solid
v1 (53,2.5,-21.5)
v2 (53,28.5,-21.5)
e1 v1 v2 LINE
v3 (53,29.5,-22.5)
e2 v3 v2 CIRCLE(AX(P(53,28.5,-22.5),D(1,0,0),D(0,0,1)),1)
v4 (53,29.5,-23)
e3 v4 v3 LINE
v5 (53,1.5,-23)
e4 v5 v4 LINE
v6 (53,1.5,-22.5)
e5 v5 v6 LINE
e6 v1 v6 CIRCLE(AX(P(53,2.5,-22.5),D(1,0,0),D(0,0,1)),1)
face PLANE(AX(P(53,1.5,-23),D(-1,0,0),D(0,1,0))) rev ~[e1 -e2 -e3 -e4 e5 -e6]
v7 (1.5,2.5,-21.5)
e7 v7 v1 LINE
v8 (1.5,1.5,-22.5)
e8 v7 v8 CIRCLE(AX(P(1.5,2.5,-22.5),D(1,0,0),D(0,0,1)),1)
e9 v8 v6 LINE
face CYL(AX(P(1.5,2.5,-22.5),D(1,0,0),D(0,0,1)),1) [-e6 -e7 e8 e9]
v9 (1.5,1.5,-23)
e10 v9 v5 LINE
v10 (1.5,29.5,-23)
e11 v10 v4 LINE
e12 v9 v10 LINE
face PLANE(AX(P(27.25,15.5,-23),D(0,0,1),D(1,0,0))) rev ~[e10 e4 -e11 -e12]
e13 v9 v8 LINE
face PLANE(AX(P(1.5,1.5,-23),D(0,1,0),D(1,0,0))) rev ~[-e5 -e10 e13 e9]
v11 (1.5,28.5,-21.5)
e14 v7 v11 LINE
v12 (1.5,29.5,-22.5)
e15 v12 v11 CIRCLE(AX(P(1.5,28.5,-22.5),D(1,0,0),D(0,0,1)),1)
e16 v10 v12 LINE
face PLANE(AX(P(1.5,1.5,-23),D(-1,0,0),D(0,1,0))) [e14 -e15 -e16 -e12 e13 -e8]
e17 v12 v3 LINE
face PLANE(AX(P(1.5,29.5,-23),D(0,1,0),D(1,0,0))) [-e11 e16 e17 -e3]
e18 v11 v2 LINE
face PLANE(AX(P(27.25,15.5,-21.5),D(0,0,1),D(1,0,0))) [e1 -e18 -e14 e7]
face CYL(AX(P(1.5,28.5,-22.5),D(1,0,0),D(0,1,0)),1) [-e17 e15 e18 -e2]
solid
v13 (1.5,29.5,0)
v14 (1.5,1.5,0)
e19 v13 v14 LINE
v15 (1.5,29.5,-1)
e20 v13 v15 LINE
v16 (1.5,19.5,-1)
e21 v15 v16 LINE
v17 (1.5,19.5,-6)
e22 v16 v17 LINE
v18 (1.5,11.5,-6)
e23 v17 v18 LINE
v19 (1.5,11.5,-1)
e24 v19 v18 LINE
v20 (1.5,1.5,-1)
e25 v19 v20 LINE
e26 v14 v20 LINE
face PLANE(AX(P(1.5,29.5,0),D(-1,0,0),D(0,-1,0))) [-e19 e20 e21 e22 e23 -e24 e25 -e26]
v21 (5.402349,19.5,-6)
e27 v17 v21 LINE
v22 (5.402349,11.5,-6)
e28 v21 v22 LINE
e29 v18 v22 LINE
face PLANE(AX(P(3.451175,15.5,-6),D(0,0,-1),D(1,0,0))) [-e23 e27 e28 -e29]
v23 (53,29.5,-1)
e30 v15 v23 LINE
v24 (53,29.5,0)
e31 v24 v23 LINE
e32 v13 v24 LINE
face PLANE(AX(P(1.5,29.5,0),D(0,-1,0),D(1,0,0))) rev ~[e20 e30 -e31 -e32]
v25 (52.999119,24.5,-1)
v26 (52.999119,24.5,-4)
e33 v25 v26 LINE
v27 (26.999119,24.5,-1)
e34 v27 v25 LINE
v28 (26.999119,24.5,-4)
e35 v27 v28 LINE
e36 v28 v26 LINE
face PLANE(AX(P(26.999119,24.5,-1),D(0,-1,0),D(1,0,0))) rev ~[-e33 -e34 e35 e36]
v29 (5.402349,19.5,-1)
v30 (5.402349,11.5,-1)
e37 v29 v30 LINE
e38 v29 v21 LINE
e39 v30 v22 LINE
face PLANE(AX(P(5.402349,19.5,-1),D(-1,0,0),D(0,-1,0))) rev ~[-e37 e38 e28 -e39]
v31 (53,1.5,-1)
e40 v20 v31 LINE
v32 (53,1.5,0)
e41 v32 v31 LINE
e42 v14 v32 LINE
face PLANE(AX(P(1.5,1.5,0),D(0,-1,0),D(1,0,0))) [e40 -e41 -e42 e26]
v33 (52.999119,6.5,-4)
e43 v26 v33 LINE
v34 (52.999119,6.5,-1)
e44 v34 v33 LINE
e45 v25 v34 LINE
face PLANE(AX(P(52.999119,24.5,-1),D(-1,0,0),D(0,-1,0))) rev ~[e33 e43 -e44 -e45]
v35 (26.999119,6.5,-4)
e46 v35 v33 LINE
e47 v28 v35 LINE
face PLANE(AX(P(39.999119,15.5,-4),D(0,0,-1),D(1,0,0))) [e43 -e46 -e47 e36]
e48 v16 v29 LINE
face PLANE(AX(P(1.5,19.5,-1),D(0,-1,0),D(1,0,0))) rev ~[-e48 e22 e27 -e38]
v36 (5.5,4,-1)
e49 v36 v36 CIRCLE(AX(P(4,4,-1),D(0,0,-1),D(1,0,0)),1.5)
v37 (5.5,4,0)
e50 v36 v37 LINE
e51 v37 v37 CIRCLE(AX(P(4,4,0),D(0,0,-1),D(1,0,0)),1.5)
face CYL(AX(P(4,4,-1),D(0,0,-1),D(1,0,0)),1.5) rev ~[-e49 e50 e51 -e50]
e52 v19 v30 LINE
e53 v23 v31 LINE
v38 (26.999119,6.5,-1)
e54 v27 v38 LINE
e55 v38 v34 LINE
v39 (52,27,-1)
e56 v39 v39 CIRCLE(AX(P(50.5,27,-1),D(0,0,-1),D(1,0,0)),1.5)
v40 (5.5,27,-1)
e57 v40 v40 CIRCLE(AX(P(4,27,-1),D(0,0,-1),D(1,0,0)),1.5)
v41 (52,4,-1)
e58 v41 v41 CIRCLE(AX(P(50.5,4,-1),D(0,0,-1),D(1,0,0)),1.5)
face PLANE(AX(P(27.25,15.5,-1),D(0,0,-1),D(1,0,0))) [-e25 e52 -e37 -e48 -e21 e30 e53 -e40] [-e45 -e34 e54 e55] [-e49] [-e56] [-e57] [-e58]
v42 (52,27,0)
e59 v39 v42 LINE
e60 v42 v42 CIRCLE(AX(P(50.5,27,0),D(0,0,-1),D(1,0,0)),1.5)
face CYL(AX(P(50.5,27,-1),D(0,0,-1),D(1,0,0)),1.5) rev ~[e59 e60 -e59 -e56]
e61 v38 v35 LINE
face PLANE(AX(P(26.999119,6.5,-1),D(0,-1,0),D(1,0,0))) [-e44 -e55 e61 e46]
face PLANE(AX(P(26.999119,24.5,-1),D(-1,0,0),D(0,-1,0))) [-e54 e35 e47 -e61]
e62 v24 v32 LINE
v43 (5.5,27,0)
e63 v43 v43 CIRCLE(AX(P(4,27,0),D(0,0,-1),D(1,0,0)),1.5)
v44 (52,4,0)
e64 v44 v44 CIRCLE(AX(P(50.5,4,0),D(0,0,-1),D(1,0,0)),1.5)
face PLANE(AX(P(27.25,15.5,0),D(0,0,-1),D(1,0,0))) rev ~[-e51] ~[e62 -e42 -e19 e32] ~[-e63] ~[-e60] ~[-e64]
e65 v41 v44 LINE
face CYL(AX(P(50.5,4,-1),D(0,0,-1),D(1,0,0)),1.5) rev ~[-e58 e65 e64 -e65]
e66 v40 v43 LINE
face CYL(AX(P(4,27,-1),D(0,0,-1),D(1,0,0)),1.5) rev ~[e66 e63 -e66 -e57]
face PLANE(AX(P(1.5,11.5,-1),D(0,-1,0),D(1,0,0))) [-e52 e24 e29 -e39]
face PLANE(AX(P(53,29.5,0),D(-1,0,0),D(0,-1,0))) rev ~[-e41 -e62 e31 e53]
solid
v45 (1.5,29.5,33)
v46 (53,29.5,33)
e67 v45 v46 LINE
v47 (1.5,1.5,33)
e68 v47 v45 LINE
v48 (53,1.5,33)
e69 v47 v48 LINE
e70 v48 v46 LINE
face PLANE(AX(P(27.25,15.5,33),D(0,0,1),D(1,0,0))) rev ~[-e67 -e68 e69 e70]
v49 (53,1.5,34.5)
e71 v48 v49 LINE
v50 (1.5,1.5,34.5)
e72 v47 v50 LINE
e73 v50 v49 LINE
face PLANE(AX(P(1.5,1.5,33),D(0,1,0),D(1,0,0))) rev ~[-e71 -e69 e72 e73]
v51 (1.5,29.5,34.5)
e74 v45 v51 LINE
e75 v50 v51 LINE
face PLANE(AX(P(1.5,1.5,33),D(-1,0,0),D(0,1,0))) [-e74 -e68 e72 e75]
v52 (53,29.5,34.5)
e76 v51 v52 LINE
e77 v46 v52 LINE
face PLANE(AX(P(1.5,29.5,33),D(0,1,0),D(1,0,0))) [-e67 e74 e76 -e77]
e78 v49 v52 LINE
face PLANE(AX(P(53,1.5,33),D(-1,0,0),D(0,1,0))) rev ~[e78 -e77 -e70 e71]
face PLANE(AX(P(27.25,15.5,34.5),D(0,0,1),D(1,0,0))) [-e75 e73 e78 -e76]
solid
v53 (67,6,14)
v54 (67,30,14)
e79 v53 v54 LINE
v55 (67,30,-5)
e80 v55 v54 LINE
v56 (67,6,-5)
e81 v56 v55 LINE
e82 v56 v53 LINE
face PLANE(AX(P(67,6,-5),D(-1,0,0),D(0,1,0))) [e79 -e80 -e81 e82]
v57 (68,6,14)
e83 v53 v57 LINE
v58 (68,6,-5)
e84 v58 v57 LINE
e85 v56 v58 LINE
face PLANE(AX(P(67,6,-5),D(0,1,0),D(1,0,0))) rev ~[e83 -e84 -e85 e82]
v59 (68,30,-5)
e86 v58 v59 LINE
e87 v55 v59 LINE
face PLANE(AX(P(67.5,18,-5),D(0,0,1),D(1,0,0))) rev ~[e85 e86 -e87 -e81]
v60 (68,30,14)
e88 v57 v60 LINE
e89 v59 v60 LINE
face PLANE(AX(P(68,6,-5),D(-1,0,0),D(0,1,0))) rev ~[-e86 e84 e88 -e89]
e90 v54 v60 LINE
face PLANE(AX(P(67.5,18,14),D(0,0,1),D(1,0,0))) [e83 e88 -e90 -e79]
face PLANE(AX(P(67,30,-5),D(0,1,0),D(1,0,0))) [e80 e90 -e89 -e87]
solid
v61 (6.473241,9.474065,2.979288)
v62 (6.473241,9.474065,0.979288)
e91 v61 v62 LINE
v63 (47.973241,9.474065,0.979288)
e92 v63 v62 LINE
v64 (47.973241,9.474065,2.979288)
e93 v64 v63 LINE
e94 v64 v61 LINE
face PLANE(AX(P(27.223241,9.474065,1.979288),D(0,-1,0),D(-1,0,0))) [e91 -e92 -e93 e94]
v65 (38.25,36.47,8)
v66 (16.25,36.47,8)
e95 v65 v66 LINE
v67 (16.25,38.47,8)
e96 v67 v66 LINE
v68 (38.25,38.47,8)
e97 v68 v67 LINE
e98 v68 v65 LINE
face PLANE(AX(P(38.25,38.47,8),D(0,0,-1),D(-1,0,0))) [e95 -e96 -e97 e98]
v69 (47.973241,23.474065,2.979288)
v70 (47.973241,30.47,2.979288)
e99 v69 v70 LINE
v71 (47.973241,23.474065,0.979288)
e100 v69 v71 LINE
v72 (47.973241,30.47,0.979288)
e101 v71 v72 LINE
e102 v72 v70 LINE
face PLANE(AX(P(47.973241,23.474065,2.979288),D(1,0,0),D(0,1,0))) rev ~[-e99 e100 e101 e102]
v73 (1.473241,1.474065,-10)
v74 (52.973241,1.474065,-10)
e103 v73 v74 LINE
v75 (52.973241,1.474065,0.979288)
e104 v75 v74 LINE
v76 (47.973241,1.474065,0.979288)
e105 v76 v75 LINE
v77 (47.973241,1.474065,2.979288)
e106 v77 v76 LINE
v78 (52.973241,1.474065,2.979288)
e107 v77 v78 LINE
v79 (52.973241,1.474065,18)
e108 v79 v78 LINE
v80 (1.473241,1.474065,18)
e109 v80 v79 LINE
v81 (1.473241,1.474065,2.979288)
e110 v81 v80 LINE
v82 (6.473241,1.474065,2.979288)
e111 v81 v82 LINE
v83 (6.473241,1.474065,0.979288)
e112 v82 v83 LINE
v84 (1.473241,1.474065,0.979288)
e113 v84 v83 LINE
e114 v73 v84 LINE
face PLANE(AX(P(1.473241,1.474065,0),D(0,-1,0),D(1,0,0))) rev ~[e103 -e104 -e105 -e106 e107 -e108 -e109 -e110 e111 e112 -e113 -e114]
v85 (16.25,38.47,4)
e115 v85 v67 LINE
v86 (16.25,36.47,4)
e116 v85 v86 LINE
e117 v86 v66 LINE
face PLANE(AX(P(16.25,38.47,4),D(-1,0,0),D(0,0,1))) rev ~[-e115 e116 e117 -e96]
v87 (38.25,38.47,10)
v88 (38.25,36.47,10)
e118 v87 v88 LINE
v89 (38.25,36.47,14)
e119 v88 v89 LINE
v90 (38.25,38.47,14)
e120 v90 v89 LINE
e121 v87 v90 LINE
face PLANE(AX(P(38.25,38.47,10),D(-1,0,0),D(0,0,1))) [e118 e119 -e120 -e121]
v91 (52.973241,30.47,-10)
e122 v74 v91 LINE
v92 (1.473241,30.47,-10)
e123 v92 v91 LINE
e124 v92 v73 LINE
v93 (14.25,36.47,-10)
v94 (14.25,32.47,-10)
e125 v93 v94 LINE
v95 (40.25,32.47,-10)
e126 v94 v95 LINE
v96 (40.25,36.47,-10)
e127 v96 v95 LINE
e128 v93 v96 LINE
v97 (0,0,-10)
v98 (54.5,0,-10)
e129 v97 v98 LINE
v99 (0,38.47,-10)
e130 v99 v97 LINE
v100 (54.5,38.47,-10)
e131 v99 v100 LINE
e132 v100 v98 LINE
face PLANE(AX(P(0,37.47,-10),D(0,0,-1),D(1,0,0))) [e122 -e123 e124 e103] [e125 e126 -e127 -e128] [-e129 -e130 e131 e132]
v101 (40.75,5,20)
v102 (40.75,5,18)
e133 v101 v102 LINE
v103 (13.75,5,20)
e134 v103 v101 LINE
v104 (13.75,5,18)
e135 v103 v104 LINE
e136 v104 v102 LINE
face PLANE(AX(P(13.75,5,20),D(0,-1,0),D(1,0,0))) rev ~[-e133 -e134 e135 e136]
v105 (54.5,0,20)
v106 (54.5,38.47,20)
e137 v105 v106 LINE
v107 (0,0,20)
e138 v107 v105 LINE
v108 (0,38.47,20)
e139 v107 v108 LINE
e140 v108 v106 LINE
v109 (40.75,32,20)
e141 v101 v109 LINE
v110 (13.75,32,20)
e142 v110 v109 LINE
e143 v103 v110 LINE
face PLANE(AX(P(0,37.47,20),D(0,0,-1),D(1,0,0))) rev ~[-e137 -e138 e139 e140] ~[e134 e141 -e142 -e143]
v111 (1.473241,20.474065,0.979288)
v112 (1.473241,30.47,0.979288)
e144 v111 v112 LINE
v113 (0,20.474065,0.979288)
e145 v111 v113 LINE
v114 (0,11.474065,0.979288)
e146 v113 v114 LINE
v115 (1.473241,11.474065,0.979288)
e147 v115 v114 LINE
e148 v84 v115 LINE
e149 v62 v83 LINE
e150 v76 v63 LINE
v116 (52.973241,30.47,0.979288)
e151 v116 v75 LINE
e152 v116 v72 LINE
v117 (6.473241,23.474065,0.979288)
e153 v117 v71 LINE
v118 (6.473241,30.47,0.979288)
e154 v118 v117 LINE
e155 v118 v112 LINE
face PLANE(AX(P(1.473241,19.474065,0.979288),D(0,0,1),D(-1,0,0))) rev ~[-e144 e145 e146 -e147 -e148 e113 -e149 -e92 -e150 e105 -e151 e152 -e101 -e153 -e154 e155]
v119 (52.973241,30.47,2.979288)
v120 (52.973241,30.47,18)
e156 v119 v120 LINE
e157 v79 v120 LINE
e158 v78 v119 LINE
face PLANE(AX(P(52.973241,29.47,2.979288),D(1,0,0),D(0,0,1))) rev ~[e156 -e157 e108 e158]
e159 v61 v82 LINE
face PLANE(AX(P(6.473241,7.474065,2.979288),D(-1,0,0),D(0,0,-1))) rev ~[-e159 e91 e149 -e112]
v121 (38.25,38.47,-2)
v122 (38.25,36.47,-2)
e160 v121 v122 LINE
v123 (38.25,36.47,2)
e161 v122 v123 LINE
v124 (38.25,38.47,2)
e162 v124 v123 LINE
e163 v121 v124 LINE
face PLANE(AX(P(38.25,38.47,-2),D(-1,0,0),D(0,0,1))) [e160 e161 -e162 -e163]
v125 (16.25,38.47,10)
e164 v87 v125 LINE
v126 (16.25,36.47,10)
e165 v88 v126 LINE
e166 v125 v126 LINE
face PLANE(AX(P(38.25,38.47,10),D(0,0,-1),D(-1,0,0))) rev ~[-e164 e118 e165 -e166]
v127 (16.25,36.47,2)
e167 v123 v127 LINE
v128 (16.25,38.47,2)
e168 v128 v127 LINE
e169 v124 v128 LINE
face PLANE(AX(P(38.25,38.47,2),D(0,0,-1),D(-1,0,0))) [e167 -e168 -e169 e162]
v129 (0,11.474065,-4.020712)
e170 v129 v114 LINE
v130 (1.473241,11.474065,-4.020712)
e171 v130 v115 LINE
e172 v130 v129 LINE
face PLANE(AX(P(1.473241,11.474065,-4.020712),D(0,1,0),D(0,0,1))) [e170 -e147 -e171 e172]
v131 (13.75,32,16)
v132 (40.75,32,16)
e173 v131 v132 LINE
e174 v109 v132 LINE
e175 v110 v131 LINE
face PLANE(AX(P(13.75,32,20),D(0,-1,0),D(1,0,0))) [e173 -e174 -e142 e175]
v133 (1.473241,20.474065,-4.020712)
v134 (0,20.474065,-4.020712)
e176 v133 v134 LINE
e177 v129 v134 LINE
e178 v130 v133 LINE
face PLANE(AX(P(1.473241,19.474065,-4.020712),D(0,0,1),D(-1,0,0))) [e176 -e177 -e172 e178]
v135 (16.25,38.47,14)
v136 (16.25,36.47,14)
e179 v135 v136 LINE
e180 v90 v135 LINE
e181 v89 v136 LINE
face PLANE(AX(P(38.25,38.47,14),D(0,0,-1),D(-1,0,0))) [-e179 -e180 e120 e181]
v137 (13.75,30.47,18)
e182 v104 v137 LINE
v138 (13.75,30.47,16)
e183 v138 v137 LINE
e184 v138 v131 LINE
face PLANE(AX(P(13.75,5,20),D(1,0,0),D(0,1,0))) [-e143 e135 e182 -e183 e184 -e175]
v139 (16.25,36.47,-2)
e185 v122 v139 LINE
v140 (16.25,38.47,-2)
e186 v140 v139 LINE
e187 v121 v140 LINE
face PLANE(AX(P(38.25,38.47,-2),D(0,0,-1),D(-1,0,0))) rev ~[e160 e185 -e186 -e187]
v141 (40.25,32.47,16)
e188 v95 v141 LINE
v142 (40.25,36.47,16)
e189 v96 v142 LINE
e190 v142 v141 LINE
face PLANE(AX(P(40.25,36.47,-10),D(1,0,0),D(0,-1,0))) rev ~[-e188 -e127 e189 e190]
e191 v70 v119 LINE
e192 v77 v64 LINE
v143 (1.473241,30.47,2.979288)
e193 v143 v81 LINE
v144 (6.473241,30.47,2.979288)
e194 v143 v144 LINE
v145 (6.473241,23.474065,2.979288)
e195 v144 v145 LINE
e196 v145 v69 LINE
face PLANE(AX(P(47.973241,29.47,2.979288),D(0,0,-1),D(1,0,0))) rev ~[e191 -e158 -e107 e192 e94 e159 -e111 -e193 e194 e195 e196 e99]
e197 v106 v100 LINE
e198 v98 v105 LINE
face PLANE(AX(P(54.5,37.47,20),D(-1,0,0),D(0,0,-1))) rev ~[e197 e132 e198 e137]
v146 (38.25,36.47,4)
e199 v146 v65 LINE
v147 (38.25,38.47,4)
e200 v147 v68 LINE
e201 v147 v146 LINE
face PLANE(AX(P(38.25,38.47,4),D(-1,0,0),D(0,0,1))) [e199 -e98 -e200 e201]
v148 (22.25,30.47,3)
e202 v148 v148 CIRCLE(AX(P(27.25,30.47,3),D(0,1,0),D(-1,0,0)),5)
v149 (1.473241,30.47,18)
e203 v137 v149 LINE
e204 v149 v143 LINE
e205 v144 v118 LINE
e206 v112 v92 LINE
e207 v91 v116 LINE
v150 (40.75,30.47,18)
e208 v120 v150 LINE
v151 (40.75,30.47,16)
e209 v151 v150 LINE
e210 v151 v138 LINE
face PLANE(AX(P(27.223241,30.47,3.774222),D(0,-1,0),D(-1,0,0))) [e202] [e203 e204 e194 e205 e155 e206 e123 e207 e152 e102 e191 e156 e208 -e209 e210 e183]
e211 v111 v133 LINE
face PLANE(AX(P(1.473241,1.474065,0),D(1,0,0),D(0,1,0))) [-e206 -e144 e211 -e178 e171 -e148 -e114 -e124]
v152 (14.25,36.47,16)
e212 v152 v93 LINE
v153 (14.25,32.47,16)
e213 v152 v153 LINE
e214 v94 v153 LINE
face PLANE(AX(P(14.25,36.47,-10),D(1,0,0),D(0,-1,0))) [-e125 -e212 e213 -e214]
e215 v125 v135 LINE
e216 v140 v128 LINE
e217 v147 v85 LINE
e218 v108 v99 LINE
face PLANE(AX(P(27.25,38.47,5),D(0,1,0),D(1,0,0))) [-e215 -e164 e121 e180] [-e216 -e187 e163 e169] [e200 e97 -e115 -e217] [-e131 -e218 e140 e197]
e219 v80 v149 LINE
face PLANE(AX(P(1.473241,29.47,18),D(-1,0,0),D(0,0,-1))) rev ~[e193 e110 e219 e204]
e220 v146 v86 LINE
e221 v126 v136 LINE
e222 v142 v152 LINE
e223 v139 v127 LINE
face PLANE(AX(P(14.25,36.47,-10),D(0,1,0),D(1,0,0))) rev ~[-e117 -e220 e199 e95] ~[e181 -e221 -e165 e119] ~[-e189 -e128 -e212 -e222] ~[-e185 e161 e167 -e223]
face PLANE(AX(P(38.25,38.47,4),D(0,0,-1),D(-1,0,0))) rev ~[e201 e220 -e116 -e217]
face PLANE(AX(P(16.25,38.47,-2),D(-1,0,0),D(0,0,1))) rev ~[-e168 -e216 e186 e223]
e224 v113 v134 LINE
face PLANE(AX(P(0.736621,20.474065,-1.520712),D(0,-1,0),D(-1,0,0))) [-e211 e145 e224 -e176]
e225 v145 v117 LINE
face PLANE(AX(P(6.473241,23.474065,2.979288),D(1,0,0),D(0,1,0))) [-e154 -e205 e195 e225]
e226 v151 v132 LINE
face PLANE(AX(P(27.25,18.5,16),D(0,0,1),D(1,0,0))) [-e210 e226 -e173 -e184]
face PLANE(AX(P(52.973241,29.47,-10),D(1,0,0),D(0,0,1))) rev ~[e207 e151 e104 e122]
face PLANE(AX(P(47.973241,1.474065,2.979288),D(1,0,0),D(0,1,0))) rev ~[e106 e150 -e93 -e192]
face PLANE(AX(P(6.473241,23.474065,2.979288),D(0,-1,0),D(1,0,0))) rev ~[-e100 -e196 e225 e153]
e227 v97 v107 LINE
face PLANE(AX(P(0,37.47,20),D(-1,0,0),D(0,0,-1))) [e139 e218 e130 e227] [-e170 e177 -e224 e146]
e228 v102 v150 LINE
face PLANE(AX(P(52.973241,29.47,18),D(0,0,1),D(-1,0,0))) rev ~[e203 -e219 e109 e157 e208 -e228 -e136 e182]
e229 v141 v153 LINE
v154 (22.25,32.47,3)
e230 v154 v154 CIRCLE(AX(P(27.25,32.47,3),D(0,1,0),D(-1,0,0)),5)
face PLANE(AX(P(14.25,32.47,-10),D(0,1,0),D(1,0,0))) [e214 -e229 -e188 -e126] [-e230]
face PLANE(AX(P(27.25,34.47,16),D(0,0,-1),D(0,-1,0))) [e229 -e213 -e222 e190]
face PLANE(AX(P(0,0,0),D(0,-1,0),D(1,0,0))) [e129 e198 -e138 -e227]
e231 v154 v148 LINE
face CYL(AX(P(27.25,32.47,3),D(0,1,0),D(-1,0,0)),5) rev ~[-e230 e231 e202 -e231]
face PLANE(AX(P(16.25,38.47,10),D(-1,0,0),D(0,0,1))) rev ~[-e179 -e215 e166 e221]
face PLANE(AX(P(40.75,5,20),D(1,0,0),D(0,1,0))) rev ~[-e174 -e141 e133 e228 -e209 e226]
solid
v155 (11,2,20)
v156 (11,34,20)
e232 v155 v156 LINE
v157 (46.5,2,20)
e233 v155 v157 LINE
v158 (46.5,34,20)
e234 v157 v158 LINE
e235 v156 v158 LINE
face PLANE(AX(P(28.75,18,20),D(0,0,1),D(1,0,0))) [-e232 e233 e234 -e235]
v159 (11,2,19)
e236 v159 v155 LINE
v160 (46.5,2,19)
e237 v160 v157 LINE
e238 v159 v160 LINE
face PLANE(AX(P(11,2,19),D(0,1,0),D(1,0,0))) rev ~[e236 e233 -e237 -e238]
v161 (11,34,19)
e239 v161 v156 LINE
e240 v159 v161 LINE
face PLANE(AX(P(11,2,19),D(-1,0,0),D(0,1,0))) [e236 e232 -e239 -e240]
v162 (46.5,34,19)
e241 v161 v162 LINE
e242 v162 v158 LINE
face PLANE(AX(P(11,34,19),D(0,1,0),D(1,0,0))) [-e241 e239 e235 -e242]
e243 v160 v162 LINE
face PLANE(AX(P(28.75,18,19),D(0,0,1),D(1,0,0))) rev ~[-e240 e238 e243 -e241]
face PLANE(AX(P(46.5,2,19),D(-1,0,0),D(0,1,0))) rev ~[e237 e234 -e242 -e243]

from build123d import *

# Parameters (mm, degrees)
SKETCH_W             = 51.5
SKETCH_H             = 28
PAD_DEPTH            = 1
SKETCH001_R          = 1.5
POCKET_DEPTH         = 5
SKETCH002_W          = 26
SKETCH002_H          = 18
PAD001_DEPTH         = 3
SKETCH006_W          = 3.902349
SKETCH006_H          = 8
PAD004_DEPTH         = 5
BODY_PLACEMENT_ANGLE = 180
SKETCH003_W          = 54.5
SKETCH003_H          = 31
SKETCH003_W_2        = 51.5
SKETCH003_H_2        = 28
PAD002_DEPTH         = 20
PAD002_DEPTH_BACK    = 10
SKETCH004_W          = 28
SKETCH004_H          = 2
PAD003_DEPTH         = 53.026759
SKETCH005_W          = 41.5
SKETCH005_H          = 6
POCKET001_DEPTH      = 5
SKETCH009_W          = 5
SKETCH009_H          = 8
POCKET002_DEPTH      = 5
POCKET002_FACE6_W    = 54.5
POCKET002_FACE6_H    = 30
PAD005_DEPTH         = 6
SKETCH010_W          = 35.630659
SKETCH010_H          = 4.577942
POCKET003_DEPTH      = 5
POCKET003_FACE17_W   = 35.630659
POCKET003_FACE17_H   = 5
POCKET004_DEPTH      = 5
SKETCH011_W          = 26.5
SKETCH011_H          = 5.025935
POCKET005_DEPTH      = 24
SKETCH012_R          = 5
POCKET006_DEPTH      = 5
SKETCH013_W          = 4
SKETCH013_H          = 16
POCKET007_DEPTH      = 5
SKETCH015_W          = 9.49
SKETCH015_H          = 2
SKETCH015_W_2        = 6.383382
PAD006_DEPTH         = 28
SKETCH016_W          = 7.53
SKETCH016_H          = 30
PAD007_DEPTH         = 54.5
PAD007_FACE3_W       = 27.995935
PAD007_FACE3_H       = 2
PAD008_DEPTH         = 43.536759
POCKET008_DEPTH      = 1
POCKET008_FACE9_W    = 1.473241
POCKET008_FACE9_H    = 5
POCKET009_DEPTH      = 1
SKETCH017_W          = 27
SKETCH017_H          = 27
POCKET010_DEPTH      = 4
POCKET010_FACE6_W    = 54.5
POCKET010_FACE6_H    = 30
PAD009_DEPTH         = 0.47
PAD009_FACE3_W       = 54.5
PAD009_FACE3_H       = 30
PAD010_DEPTH         = 0.47
PAD010_FACE3_W       = 54.5
PAD010_FACE3_H       = 30
POCKET011_DEPTH      = 0.47
POCKET011_FACE6_W    = 54.5
POCKET011_FACE6_H    = 30
PAD011_DEPTH         = 1
SKETCH018_W          = 26
SKETCH018_H          = 4
POCKET012_DEPTH      = 21
POCKET012_FACE34_W   = 4
POCKET012_FACE34_H   = 26
POCKET013_DEPTH      = 5
SKETCH019_W          = 22
SKETCH019_H          = 4
POCKET014_DEPTH      = 5
SKETCH020_R          = 5
POCKET015_DEPTH      = 5
POCKET015_FACE39_W   = 41.5
POCKET015_FACE39_H   = 2
POCKET016_DEPTH      = 2
BOX001_W             = 51.5
BOX001_H             = 28
BOX001_DEPTH         = 1.5
BOX002_W             = 35.5
BOX002_H             = 32
BOX002_DEPTH         = 1
BOX_W                = 51.5
BOX_H                = 28
BOX_DEPTH            = 1.5
FILLET_R             = 1
FILLET001_R          = 1
BOX003_W             = 1
BOX003_H             = 24
BOX003_DEPTH         = 19


with BuildPart() as esp32:
    # Sketch → Pad (new body)
    with BuildSketch(Plane.XY):
        with Locations((25.75, 14)):
            Rectangle(SKETCH_W, SKETCH_H)
    extrude(amount=PAD_DEPTH)

    # Sketch001 (on Face6 of Pad) → Pocket (cut)
    with BuildSketch(Plane.XY.offset(1)):
        with Locations((2.5, 2.5)):
            Circle(SKETCH001_R)
        with Locations((2.5, 25.5)):
            Circle(SKETCH001_R)
        with Locations((49, 25.5)):
            Circle(SKETCH001_R)
        with Locations((49, 2.5)):
            Circle(SKETCH001_R)
    extrude(amount=-POCKET_DEPTH, mode=Mode.SUBTRACT)

    # Sketch002 (on Face5 of Pocket) → Pad001 (join)
    with BuildSketch(Plane.XY.offset(1)):
        with Locations((38.499119, 14)):
            Rectangle(SKETCH002_W, SKETCH002_H)
    extrude(amount=PAD001_DEPTH)

    # Sketch006 (on Face5 of Pad001) → Pad004 (join)
    with BuildSketch(Plane.XY.offset(1)):
        with Locations((1.9511745, 14)):
            Rectangle(SKETCH006_W, SKETCH006_H)
    extrude(amount=PAD004_DEPTH)


with BuildPart() as esp32_1:
    # Body placement: moved
    add(esp32.part.moved(Location((1.5, 29.5, 0))).rotate(Axis((1.5, 29.5, 0), (1, 0, 0)), BODY_PLACEMENT_ANGLE))


with BuildPart() as body001:
    # Sketch003 → Pad002 (new body, two sides)
    with BuildSketch(Plane.XY) as pad002_sk:
        with Locations((27.25, 15.5)):
            Rectangle(SKETCH003_W, SKETCH003_H)
        with Locations((27.223241, 15.474065)):
            Rectangle(SKETCH003_W_2, SKETCH003_H_2, mode=Mode.SUBTRACT)
    extrude(amount=PAD002_DEPTH)
    extrude(pad002_sk.sketch, amount=-PAD002_DEPTH_BACK)

    # Sketch004 (on Face5 of Pad002) → Pad003 (join)
    with BuildSketch(Plane.YZ.offset(1.473241)):
        with Locations((15.474065, 1.979288)):
            Rectangle(SKETCH004_W, SKETCH004_H)
    extrude(amount=PAD003_DEPTH)

    # Sketch005 (on Face15 of Pad003) → Pocket001 (cut)
    with BuildSketch(Plane.XY.offset(2.979288)):
        with Locations((27.223241, 26.474065)):
            Rectangle(SKETCH005_W, SKETCH005_H)
        with Locations((27.223241, 4.474065)):
            Rectangle(SKETCH005_W, SKETCH005_H)
    extrude(amount=-POCKET001_DEPTH, mode=Mode.SUBTRACT)

    # Sketch009 (on Face7 of Pocket001) → Pocket002 (cut)
    with BuildSketch(Plane(origin=(1.473241, 15.474065, -4.510356), x_dir=(0, 0, 1), z_dir=(1, 0, 0))):
        with Locations((2.989644, 0)):
            Rectangle(SKETCH009_W, SKETCH009_H)
    extrude(amount=-POCKET002_DEPTH, mode=Mode.SUBTRACT)

    # Pocket002 Face6 → Pad005 (add)
    with BuildSketch(Plane(origin=(27.25, 31, 5), x_dir=(1, 0, 0), z_dir=(0, 1, 0))):
        Rectangle(POCKET002_FACE6_W, POCKET002_FACE6_H)
    extrude(amount=PAD005_DEPTH)

    # Sketch010 (on Face23 of Pad005) → Pocket003 (cut)
    with BuildSketch(Plane.XY.offset(20)):
        with Locations((28.7745295, 31.796246)):
            Rectangle(SKETCH010_W, SKETCH010_H)
    extrude(amount=-POCKET003_DEPTH, mode=Mode.SUBTRACT)

    # Pocket003 Face17 → Pocket004 (cut)
    with BuildSketch(Plane(origin=(28.7745295, 29.507275, 17.5), x_dir=(1, 0, 0), z_dir=(0, 1, 0))):
        Rectangle(POCKET003_FACE17_W, POCKET003_FACE17_H)
    extrude(amount=-POCKET004_DEPTH, mode=Mode.SUBTRACT)

    # Sketch011 (on Face4 of Pocket004) → Pocket005 (cut)
    with BuildSketch(Plane(origin=(0, 0, -10), x_dir=(1, 0, 0), z_dir=(0, 0, -1))):
        with Locations((27.25, -33.2370325)):
            Rectangle(SKETCH011_W, SKETCH011_H)
    extrude(amount=-POCKET005_DEPTH, mode=Mode.SUBTRACT)

    # Sketch012 (on Face18 of Pocket005) → Pocket006 (cut)
    with BuildSketch(Plane(origin=(0, 30.724065, 0), x_dir=(-1, 0, 0), z_dir=(0, 1, 0))):
        with Locations((-24, 2)):
            Circle(SKETCH012_R)
    extrude(amount=-POCKET006_DEPTH, mode=Mode.SUBTRACT)

    # Sketch013 (on Face6 of Pocket006) → Pocket007 (cut)
    with BuildSketch(Plane(origin=(0, 37, 0), x_dir=(-1, 0, 0), z_dir=(0, 1, 0))):
        with Locations((-36, 5)):
            Rectangle(SKETCH013_W, SKETCH013_H)
        with Locations((-30, 5)):
            Rectangle(SKETCH013_W, SKETCH013_H)
        with Locations((-24, 5)):
            Rectangle(SKETCH013_W, SKETCH013_H)
        with Locations((-18, 5)):
            Rectangle(SKETCH013_W, SKETCH013_H)
    extrude(amount=-POCKET007_DEPTH, mode=Mode.SUBTRACT)

    # Sketch015 (on Face12 of Pocket007) → Pad006 (join)
    with BuildSketch(Plane.XZ.offset(-29.474065)):
        with Locations((6.218241, 19)):
            Rectangle(SKETCH015_W, SKETCH015_H)
        with Locations((49.78155, 19)):
            Rectangle(SKETCH015_W_2, SKETCH015_H)
    extrude(amount=PAD006_DEPTH)

    # Sketch016 (on Face4 of Pad006) → Pad007 (join)
    with BuildSketch(Plane(origin=(0, 0, 0), x_dir=(0, -1, 0), z_dir=(-1, 0, 0))):
        with Locations((-33.235, 5)):
            Rectangle(SKETCH016_W, SKETCH016_H)
    extrude(amount=-PAD007_DEPTH)

    # Pad007 Face3 → Pad008 (add)
    with BuildSketch(Plane(origin=(10.963241, 15.4720325, 19), x_dir=(0, -1, 0), z_dir=(1, 0, 0))):
        Rectangle(PAD007_FACE3_W, PAD007_FACE3_H)
    extrude(amount=PAD008_DEPTH)

    # Pad008 Face10 → Pocket008 (cut)
    with BuildSketch(Plane(origin=(27.223241, 29.47, 4.0284207032), x_dir=(-1, 0, 0), z_dir=(0, -1, 0))):
        Polygon((20.75, 3.0491327032), (25.75, 3.0491327032), (25.75, 14.0284207032), (-25.75, 14.0284207032), (-25.75, 3.0491327032), (-20.75, 3.0491327032), (-20.75, 1.0491327032), (-25.75, 1.0491327032), (-25.75, -13.9715792968), (25.75, -13.9715792968), (25.75, 1.0491327032), (20.75, 1.0491327032), align=None)
    extrude(amount=-POCKET008_DEPTH, mode=Mode.SUBTRACT)

    # Pocket008 Face9 → Pocket009 (cut)
    with BuildSketch(Plane(origin=(0.7366205, 19.474065, -1.520712), x_dir=(-1, 0, 0), z_dir=(0, -1, 0))):
        Rectangle(POCKET008_FACE9_W, POCKET008_FACE9_H)
    extrude(amount=-POCKET009_DEPTH, mode=Mode.SUBTRACT)

    # Sketch017 (on Face23 of Pad008) → Pocket010 (cut)
    with BuildSketch(Plane.XY.offset(20)):
        with Locations((27.25, 18.5)):
            Rectangle(SKETCH017_W, SKETCH017_H)
    extrude(amount=-POCKET010_DEPTH, mode=Mode.SUBTRACT)

    # Pocket010 Face6 → Pad009 (add)
    with BuildSketch(Plane(origin=(27.25, 37, 5), x_dir=(1, 0, 0), z_dir=(0, 1, 0))):
        Rectangle(POCKET010_FACE6_W, POCKET010_FACE6_H)
    extrude(amount=PAD009_DEPTH)

    # Pad009 Face3 → Pad010 (add)
    with BuildSketch(Plane(origin=(27.25, 37.47, 5), x_dir=(1, 0, 0), z_dir=(0, 1, 0))):
        Rectangle(PAD009_FACE3_W, PAD009_FACE3_H)
    extrude(amount=PAD010_DEPTH)

    # Pad010 Face3 → Pocket011 (cut)
    with BuildSketch(Plane(origin=(27.25, 37.94, 5), x_dir=(1, 0, 0), z_dir=(0, 1, 0))):
        Rectangle(PAD010_FACE3_W, PAD010_FACE3_H)
    extrude(amount=-POCKET011_DEPTH, mode=Mode.SUBTRACT)

    # Pocket011 Face6 → Pad011 (add)
    with BuildSketch(Plane(origin=(27.25, 37.47, 5), x_dir=(1, 0, 0), z_dir=(0, 1, 0))):
        Rectangle(POCKET011_FACE6_W, POCKET011_FACE6_H)
    extrude(amount=PAD011_DEPTH)

    # Sketch018 (on Face28 of Pad011) → Pocket012 (cut)
    with BuildSketch(Plane(origin=(0, 0, -10), x_dir=(1, 0, 0), z_dir=(0, 0, -1))):
        with Locations((27.25, -34.47)):
            Rectangle(SKETCH018_W, SKETCH018_H)
    extrude(amount=-POCKET012_DEPTH, mode=Mode.SUBTRACT)

    # Pocket012 Face34 → Pocket013 (cut)
    with BuildSketch(Plane(origin=(27.25, 34.47, 11), x_dir=(0, -1, 0), z_dir=(0, 0, -1))):
        Rectangle(POCKET012_FACE34_W, POCKET012_FACE34_H)
    extrude(amount=-POCKET013_DEPTH, mode=Mode.SUBTRACT)

    # Sketch019 (on Face6 of Pocket013) → Pocket014 (cut)
    with BuildSketch(Plane(origin=(0, 38.47, 0), x_dir=(-1, 0, 0), z_dir=(0, 1, 0))):
        with Locations((-27.25, 12)):
            Rectangle(SKETCH019_W, SKETCH019_H)
        with Locations((-27.25, 6)):
            Rectangle(SKETCH019_W, SKETCH019_H)
        with Locations((-27.25, 0)):
            Rectangle(SKETCH019_W, SKETCH019_H)
    extrude(amount=-POCKET014_DEPTH, mode=Mode.SUBTRACT)

    # Sketch020 (on Face18 of Pocket014) → Pocket015 (cut)
    with BuildSketch(Plane(origin=(0, 32.47, 0), x_dir=(-1, 0, 0), z_dir=(0, 1, 0))):
        with Locations((-27.25, 3)):
            Circle(SKETCH020_R)
    extrude(amount=-POCKET015_DEPTH, mode=Mode.SUBTRACT)

    # Pocket015 Face39 → Pocket016 (cut)
    with BuildSketch(Plane(origin=(27.223241, 7.474065, 1.979288), x_dir=(-1, 0, 0), z_dir=(0, -1, 0))):
        Rectangle(POCKET015_FACE39_W, POCKET015_FACE39_H)
    extrude(amount=-POCKET016_DEPTH, mode=Mode.SUBTRACT)


with BuildPart() as box001:
    # Box001 → Box001 (new body)
    with BuildSketch(Plane(origin=(1.5, 1.5, 33), x_dir=(1, 0, 0), z_dir=(0, 0, 1))):
        with Locations((25.75, 14)):
            Rectangle(BOX001_W, BOX001_H)
    extrude(amount=BOX001_DEPTH)


with BuildPart() as box002:
    # Box002 → Box002 (new body)
    with BuildSketch(Plane(origin=(11, 2, 19), x_dir=(1, 0, 0), z_dir=(0, 0, 1))):
        with Locations((17.75, 16)):
            Rectangle(BOX002_W, BOX002_H)
    extrude(amount=BOX002_DEPTH)


with BuildPart() as fillet001:
    # Box → Box (new body)
    with BuildSketch(Plane(origin=(1.5, 1.5, -23), x_dir=(1, 0, 0), z_dir=(0, 0, 1))):
        with Locations((25.75, 14)):
            Rectangle(BOX_W, BOX_H)
    extrude(amount=BOX_DEPTH)

    # Fillet
    fillet_edges = [fillet001.edges().sort_by_distance(p)[0] for p in [
        (27.25, 29.5, -21.5),
    ]]
    fillet(fillet_edges, radius=FILLET_R)

    # Fillet001
    fillet001_edges = [fillet001.edges().sort_by_distance(p)[0] for p in [
        (27.25, 1.5, -21.5),
    ]]
    fillet(fillet001_edges, radius=FILLET001_R)


with BuildPart() as sensor:
    # Box003 → Box003 (new body)
    with BuildSketch(Plane(origin=(67, 6, -5), x_dir=(1, 0, 0), z_dir=(0, 0, 1))):
        with Locations((0.5, 12)):
            Rectangle(BOX003_W, BOX003_H)
    extrude(amount=BOX003_DEPTH)


solid = Compound([esp32_1.part, body001.part, box001.part, box002.part, fillet001.part, sensor.part])
